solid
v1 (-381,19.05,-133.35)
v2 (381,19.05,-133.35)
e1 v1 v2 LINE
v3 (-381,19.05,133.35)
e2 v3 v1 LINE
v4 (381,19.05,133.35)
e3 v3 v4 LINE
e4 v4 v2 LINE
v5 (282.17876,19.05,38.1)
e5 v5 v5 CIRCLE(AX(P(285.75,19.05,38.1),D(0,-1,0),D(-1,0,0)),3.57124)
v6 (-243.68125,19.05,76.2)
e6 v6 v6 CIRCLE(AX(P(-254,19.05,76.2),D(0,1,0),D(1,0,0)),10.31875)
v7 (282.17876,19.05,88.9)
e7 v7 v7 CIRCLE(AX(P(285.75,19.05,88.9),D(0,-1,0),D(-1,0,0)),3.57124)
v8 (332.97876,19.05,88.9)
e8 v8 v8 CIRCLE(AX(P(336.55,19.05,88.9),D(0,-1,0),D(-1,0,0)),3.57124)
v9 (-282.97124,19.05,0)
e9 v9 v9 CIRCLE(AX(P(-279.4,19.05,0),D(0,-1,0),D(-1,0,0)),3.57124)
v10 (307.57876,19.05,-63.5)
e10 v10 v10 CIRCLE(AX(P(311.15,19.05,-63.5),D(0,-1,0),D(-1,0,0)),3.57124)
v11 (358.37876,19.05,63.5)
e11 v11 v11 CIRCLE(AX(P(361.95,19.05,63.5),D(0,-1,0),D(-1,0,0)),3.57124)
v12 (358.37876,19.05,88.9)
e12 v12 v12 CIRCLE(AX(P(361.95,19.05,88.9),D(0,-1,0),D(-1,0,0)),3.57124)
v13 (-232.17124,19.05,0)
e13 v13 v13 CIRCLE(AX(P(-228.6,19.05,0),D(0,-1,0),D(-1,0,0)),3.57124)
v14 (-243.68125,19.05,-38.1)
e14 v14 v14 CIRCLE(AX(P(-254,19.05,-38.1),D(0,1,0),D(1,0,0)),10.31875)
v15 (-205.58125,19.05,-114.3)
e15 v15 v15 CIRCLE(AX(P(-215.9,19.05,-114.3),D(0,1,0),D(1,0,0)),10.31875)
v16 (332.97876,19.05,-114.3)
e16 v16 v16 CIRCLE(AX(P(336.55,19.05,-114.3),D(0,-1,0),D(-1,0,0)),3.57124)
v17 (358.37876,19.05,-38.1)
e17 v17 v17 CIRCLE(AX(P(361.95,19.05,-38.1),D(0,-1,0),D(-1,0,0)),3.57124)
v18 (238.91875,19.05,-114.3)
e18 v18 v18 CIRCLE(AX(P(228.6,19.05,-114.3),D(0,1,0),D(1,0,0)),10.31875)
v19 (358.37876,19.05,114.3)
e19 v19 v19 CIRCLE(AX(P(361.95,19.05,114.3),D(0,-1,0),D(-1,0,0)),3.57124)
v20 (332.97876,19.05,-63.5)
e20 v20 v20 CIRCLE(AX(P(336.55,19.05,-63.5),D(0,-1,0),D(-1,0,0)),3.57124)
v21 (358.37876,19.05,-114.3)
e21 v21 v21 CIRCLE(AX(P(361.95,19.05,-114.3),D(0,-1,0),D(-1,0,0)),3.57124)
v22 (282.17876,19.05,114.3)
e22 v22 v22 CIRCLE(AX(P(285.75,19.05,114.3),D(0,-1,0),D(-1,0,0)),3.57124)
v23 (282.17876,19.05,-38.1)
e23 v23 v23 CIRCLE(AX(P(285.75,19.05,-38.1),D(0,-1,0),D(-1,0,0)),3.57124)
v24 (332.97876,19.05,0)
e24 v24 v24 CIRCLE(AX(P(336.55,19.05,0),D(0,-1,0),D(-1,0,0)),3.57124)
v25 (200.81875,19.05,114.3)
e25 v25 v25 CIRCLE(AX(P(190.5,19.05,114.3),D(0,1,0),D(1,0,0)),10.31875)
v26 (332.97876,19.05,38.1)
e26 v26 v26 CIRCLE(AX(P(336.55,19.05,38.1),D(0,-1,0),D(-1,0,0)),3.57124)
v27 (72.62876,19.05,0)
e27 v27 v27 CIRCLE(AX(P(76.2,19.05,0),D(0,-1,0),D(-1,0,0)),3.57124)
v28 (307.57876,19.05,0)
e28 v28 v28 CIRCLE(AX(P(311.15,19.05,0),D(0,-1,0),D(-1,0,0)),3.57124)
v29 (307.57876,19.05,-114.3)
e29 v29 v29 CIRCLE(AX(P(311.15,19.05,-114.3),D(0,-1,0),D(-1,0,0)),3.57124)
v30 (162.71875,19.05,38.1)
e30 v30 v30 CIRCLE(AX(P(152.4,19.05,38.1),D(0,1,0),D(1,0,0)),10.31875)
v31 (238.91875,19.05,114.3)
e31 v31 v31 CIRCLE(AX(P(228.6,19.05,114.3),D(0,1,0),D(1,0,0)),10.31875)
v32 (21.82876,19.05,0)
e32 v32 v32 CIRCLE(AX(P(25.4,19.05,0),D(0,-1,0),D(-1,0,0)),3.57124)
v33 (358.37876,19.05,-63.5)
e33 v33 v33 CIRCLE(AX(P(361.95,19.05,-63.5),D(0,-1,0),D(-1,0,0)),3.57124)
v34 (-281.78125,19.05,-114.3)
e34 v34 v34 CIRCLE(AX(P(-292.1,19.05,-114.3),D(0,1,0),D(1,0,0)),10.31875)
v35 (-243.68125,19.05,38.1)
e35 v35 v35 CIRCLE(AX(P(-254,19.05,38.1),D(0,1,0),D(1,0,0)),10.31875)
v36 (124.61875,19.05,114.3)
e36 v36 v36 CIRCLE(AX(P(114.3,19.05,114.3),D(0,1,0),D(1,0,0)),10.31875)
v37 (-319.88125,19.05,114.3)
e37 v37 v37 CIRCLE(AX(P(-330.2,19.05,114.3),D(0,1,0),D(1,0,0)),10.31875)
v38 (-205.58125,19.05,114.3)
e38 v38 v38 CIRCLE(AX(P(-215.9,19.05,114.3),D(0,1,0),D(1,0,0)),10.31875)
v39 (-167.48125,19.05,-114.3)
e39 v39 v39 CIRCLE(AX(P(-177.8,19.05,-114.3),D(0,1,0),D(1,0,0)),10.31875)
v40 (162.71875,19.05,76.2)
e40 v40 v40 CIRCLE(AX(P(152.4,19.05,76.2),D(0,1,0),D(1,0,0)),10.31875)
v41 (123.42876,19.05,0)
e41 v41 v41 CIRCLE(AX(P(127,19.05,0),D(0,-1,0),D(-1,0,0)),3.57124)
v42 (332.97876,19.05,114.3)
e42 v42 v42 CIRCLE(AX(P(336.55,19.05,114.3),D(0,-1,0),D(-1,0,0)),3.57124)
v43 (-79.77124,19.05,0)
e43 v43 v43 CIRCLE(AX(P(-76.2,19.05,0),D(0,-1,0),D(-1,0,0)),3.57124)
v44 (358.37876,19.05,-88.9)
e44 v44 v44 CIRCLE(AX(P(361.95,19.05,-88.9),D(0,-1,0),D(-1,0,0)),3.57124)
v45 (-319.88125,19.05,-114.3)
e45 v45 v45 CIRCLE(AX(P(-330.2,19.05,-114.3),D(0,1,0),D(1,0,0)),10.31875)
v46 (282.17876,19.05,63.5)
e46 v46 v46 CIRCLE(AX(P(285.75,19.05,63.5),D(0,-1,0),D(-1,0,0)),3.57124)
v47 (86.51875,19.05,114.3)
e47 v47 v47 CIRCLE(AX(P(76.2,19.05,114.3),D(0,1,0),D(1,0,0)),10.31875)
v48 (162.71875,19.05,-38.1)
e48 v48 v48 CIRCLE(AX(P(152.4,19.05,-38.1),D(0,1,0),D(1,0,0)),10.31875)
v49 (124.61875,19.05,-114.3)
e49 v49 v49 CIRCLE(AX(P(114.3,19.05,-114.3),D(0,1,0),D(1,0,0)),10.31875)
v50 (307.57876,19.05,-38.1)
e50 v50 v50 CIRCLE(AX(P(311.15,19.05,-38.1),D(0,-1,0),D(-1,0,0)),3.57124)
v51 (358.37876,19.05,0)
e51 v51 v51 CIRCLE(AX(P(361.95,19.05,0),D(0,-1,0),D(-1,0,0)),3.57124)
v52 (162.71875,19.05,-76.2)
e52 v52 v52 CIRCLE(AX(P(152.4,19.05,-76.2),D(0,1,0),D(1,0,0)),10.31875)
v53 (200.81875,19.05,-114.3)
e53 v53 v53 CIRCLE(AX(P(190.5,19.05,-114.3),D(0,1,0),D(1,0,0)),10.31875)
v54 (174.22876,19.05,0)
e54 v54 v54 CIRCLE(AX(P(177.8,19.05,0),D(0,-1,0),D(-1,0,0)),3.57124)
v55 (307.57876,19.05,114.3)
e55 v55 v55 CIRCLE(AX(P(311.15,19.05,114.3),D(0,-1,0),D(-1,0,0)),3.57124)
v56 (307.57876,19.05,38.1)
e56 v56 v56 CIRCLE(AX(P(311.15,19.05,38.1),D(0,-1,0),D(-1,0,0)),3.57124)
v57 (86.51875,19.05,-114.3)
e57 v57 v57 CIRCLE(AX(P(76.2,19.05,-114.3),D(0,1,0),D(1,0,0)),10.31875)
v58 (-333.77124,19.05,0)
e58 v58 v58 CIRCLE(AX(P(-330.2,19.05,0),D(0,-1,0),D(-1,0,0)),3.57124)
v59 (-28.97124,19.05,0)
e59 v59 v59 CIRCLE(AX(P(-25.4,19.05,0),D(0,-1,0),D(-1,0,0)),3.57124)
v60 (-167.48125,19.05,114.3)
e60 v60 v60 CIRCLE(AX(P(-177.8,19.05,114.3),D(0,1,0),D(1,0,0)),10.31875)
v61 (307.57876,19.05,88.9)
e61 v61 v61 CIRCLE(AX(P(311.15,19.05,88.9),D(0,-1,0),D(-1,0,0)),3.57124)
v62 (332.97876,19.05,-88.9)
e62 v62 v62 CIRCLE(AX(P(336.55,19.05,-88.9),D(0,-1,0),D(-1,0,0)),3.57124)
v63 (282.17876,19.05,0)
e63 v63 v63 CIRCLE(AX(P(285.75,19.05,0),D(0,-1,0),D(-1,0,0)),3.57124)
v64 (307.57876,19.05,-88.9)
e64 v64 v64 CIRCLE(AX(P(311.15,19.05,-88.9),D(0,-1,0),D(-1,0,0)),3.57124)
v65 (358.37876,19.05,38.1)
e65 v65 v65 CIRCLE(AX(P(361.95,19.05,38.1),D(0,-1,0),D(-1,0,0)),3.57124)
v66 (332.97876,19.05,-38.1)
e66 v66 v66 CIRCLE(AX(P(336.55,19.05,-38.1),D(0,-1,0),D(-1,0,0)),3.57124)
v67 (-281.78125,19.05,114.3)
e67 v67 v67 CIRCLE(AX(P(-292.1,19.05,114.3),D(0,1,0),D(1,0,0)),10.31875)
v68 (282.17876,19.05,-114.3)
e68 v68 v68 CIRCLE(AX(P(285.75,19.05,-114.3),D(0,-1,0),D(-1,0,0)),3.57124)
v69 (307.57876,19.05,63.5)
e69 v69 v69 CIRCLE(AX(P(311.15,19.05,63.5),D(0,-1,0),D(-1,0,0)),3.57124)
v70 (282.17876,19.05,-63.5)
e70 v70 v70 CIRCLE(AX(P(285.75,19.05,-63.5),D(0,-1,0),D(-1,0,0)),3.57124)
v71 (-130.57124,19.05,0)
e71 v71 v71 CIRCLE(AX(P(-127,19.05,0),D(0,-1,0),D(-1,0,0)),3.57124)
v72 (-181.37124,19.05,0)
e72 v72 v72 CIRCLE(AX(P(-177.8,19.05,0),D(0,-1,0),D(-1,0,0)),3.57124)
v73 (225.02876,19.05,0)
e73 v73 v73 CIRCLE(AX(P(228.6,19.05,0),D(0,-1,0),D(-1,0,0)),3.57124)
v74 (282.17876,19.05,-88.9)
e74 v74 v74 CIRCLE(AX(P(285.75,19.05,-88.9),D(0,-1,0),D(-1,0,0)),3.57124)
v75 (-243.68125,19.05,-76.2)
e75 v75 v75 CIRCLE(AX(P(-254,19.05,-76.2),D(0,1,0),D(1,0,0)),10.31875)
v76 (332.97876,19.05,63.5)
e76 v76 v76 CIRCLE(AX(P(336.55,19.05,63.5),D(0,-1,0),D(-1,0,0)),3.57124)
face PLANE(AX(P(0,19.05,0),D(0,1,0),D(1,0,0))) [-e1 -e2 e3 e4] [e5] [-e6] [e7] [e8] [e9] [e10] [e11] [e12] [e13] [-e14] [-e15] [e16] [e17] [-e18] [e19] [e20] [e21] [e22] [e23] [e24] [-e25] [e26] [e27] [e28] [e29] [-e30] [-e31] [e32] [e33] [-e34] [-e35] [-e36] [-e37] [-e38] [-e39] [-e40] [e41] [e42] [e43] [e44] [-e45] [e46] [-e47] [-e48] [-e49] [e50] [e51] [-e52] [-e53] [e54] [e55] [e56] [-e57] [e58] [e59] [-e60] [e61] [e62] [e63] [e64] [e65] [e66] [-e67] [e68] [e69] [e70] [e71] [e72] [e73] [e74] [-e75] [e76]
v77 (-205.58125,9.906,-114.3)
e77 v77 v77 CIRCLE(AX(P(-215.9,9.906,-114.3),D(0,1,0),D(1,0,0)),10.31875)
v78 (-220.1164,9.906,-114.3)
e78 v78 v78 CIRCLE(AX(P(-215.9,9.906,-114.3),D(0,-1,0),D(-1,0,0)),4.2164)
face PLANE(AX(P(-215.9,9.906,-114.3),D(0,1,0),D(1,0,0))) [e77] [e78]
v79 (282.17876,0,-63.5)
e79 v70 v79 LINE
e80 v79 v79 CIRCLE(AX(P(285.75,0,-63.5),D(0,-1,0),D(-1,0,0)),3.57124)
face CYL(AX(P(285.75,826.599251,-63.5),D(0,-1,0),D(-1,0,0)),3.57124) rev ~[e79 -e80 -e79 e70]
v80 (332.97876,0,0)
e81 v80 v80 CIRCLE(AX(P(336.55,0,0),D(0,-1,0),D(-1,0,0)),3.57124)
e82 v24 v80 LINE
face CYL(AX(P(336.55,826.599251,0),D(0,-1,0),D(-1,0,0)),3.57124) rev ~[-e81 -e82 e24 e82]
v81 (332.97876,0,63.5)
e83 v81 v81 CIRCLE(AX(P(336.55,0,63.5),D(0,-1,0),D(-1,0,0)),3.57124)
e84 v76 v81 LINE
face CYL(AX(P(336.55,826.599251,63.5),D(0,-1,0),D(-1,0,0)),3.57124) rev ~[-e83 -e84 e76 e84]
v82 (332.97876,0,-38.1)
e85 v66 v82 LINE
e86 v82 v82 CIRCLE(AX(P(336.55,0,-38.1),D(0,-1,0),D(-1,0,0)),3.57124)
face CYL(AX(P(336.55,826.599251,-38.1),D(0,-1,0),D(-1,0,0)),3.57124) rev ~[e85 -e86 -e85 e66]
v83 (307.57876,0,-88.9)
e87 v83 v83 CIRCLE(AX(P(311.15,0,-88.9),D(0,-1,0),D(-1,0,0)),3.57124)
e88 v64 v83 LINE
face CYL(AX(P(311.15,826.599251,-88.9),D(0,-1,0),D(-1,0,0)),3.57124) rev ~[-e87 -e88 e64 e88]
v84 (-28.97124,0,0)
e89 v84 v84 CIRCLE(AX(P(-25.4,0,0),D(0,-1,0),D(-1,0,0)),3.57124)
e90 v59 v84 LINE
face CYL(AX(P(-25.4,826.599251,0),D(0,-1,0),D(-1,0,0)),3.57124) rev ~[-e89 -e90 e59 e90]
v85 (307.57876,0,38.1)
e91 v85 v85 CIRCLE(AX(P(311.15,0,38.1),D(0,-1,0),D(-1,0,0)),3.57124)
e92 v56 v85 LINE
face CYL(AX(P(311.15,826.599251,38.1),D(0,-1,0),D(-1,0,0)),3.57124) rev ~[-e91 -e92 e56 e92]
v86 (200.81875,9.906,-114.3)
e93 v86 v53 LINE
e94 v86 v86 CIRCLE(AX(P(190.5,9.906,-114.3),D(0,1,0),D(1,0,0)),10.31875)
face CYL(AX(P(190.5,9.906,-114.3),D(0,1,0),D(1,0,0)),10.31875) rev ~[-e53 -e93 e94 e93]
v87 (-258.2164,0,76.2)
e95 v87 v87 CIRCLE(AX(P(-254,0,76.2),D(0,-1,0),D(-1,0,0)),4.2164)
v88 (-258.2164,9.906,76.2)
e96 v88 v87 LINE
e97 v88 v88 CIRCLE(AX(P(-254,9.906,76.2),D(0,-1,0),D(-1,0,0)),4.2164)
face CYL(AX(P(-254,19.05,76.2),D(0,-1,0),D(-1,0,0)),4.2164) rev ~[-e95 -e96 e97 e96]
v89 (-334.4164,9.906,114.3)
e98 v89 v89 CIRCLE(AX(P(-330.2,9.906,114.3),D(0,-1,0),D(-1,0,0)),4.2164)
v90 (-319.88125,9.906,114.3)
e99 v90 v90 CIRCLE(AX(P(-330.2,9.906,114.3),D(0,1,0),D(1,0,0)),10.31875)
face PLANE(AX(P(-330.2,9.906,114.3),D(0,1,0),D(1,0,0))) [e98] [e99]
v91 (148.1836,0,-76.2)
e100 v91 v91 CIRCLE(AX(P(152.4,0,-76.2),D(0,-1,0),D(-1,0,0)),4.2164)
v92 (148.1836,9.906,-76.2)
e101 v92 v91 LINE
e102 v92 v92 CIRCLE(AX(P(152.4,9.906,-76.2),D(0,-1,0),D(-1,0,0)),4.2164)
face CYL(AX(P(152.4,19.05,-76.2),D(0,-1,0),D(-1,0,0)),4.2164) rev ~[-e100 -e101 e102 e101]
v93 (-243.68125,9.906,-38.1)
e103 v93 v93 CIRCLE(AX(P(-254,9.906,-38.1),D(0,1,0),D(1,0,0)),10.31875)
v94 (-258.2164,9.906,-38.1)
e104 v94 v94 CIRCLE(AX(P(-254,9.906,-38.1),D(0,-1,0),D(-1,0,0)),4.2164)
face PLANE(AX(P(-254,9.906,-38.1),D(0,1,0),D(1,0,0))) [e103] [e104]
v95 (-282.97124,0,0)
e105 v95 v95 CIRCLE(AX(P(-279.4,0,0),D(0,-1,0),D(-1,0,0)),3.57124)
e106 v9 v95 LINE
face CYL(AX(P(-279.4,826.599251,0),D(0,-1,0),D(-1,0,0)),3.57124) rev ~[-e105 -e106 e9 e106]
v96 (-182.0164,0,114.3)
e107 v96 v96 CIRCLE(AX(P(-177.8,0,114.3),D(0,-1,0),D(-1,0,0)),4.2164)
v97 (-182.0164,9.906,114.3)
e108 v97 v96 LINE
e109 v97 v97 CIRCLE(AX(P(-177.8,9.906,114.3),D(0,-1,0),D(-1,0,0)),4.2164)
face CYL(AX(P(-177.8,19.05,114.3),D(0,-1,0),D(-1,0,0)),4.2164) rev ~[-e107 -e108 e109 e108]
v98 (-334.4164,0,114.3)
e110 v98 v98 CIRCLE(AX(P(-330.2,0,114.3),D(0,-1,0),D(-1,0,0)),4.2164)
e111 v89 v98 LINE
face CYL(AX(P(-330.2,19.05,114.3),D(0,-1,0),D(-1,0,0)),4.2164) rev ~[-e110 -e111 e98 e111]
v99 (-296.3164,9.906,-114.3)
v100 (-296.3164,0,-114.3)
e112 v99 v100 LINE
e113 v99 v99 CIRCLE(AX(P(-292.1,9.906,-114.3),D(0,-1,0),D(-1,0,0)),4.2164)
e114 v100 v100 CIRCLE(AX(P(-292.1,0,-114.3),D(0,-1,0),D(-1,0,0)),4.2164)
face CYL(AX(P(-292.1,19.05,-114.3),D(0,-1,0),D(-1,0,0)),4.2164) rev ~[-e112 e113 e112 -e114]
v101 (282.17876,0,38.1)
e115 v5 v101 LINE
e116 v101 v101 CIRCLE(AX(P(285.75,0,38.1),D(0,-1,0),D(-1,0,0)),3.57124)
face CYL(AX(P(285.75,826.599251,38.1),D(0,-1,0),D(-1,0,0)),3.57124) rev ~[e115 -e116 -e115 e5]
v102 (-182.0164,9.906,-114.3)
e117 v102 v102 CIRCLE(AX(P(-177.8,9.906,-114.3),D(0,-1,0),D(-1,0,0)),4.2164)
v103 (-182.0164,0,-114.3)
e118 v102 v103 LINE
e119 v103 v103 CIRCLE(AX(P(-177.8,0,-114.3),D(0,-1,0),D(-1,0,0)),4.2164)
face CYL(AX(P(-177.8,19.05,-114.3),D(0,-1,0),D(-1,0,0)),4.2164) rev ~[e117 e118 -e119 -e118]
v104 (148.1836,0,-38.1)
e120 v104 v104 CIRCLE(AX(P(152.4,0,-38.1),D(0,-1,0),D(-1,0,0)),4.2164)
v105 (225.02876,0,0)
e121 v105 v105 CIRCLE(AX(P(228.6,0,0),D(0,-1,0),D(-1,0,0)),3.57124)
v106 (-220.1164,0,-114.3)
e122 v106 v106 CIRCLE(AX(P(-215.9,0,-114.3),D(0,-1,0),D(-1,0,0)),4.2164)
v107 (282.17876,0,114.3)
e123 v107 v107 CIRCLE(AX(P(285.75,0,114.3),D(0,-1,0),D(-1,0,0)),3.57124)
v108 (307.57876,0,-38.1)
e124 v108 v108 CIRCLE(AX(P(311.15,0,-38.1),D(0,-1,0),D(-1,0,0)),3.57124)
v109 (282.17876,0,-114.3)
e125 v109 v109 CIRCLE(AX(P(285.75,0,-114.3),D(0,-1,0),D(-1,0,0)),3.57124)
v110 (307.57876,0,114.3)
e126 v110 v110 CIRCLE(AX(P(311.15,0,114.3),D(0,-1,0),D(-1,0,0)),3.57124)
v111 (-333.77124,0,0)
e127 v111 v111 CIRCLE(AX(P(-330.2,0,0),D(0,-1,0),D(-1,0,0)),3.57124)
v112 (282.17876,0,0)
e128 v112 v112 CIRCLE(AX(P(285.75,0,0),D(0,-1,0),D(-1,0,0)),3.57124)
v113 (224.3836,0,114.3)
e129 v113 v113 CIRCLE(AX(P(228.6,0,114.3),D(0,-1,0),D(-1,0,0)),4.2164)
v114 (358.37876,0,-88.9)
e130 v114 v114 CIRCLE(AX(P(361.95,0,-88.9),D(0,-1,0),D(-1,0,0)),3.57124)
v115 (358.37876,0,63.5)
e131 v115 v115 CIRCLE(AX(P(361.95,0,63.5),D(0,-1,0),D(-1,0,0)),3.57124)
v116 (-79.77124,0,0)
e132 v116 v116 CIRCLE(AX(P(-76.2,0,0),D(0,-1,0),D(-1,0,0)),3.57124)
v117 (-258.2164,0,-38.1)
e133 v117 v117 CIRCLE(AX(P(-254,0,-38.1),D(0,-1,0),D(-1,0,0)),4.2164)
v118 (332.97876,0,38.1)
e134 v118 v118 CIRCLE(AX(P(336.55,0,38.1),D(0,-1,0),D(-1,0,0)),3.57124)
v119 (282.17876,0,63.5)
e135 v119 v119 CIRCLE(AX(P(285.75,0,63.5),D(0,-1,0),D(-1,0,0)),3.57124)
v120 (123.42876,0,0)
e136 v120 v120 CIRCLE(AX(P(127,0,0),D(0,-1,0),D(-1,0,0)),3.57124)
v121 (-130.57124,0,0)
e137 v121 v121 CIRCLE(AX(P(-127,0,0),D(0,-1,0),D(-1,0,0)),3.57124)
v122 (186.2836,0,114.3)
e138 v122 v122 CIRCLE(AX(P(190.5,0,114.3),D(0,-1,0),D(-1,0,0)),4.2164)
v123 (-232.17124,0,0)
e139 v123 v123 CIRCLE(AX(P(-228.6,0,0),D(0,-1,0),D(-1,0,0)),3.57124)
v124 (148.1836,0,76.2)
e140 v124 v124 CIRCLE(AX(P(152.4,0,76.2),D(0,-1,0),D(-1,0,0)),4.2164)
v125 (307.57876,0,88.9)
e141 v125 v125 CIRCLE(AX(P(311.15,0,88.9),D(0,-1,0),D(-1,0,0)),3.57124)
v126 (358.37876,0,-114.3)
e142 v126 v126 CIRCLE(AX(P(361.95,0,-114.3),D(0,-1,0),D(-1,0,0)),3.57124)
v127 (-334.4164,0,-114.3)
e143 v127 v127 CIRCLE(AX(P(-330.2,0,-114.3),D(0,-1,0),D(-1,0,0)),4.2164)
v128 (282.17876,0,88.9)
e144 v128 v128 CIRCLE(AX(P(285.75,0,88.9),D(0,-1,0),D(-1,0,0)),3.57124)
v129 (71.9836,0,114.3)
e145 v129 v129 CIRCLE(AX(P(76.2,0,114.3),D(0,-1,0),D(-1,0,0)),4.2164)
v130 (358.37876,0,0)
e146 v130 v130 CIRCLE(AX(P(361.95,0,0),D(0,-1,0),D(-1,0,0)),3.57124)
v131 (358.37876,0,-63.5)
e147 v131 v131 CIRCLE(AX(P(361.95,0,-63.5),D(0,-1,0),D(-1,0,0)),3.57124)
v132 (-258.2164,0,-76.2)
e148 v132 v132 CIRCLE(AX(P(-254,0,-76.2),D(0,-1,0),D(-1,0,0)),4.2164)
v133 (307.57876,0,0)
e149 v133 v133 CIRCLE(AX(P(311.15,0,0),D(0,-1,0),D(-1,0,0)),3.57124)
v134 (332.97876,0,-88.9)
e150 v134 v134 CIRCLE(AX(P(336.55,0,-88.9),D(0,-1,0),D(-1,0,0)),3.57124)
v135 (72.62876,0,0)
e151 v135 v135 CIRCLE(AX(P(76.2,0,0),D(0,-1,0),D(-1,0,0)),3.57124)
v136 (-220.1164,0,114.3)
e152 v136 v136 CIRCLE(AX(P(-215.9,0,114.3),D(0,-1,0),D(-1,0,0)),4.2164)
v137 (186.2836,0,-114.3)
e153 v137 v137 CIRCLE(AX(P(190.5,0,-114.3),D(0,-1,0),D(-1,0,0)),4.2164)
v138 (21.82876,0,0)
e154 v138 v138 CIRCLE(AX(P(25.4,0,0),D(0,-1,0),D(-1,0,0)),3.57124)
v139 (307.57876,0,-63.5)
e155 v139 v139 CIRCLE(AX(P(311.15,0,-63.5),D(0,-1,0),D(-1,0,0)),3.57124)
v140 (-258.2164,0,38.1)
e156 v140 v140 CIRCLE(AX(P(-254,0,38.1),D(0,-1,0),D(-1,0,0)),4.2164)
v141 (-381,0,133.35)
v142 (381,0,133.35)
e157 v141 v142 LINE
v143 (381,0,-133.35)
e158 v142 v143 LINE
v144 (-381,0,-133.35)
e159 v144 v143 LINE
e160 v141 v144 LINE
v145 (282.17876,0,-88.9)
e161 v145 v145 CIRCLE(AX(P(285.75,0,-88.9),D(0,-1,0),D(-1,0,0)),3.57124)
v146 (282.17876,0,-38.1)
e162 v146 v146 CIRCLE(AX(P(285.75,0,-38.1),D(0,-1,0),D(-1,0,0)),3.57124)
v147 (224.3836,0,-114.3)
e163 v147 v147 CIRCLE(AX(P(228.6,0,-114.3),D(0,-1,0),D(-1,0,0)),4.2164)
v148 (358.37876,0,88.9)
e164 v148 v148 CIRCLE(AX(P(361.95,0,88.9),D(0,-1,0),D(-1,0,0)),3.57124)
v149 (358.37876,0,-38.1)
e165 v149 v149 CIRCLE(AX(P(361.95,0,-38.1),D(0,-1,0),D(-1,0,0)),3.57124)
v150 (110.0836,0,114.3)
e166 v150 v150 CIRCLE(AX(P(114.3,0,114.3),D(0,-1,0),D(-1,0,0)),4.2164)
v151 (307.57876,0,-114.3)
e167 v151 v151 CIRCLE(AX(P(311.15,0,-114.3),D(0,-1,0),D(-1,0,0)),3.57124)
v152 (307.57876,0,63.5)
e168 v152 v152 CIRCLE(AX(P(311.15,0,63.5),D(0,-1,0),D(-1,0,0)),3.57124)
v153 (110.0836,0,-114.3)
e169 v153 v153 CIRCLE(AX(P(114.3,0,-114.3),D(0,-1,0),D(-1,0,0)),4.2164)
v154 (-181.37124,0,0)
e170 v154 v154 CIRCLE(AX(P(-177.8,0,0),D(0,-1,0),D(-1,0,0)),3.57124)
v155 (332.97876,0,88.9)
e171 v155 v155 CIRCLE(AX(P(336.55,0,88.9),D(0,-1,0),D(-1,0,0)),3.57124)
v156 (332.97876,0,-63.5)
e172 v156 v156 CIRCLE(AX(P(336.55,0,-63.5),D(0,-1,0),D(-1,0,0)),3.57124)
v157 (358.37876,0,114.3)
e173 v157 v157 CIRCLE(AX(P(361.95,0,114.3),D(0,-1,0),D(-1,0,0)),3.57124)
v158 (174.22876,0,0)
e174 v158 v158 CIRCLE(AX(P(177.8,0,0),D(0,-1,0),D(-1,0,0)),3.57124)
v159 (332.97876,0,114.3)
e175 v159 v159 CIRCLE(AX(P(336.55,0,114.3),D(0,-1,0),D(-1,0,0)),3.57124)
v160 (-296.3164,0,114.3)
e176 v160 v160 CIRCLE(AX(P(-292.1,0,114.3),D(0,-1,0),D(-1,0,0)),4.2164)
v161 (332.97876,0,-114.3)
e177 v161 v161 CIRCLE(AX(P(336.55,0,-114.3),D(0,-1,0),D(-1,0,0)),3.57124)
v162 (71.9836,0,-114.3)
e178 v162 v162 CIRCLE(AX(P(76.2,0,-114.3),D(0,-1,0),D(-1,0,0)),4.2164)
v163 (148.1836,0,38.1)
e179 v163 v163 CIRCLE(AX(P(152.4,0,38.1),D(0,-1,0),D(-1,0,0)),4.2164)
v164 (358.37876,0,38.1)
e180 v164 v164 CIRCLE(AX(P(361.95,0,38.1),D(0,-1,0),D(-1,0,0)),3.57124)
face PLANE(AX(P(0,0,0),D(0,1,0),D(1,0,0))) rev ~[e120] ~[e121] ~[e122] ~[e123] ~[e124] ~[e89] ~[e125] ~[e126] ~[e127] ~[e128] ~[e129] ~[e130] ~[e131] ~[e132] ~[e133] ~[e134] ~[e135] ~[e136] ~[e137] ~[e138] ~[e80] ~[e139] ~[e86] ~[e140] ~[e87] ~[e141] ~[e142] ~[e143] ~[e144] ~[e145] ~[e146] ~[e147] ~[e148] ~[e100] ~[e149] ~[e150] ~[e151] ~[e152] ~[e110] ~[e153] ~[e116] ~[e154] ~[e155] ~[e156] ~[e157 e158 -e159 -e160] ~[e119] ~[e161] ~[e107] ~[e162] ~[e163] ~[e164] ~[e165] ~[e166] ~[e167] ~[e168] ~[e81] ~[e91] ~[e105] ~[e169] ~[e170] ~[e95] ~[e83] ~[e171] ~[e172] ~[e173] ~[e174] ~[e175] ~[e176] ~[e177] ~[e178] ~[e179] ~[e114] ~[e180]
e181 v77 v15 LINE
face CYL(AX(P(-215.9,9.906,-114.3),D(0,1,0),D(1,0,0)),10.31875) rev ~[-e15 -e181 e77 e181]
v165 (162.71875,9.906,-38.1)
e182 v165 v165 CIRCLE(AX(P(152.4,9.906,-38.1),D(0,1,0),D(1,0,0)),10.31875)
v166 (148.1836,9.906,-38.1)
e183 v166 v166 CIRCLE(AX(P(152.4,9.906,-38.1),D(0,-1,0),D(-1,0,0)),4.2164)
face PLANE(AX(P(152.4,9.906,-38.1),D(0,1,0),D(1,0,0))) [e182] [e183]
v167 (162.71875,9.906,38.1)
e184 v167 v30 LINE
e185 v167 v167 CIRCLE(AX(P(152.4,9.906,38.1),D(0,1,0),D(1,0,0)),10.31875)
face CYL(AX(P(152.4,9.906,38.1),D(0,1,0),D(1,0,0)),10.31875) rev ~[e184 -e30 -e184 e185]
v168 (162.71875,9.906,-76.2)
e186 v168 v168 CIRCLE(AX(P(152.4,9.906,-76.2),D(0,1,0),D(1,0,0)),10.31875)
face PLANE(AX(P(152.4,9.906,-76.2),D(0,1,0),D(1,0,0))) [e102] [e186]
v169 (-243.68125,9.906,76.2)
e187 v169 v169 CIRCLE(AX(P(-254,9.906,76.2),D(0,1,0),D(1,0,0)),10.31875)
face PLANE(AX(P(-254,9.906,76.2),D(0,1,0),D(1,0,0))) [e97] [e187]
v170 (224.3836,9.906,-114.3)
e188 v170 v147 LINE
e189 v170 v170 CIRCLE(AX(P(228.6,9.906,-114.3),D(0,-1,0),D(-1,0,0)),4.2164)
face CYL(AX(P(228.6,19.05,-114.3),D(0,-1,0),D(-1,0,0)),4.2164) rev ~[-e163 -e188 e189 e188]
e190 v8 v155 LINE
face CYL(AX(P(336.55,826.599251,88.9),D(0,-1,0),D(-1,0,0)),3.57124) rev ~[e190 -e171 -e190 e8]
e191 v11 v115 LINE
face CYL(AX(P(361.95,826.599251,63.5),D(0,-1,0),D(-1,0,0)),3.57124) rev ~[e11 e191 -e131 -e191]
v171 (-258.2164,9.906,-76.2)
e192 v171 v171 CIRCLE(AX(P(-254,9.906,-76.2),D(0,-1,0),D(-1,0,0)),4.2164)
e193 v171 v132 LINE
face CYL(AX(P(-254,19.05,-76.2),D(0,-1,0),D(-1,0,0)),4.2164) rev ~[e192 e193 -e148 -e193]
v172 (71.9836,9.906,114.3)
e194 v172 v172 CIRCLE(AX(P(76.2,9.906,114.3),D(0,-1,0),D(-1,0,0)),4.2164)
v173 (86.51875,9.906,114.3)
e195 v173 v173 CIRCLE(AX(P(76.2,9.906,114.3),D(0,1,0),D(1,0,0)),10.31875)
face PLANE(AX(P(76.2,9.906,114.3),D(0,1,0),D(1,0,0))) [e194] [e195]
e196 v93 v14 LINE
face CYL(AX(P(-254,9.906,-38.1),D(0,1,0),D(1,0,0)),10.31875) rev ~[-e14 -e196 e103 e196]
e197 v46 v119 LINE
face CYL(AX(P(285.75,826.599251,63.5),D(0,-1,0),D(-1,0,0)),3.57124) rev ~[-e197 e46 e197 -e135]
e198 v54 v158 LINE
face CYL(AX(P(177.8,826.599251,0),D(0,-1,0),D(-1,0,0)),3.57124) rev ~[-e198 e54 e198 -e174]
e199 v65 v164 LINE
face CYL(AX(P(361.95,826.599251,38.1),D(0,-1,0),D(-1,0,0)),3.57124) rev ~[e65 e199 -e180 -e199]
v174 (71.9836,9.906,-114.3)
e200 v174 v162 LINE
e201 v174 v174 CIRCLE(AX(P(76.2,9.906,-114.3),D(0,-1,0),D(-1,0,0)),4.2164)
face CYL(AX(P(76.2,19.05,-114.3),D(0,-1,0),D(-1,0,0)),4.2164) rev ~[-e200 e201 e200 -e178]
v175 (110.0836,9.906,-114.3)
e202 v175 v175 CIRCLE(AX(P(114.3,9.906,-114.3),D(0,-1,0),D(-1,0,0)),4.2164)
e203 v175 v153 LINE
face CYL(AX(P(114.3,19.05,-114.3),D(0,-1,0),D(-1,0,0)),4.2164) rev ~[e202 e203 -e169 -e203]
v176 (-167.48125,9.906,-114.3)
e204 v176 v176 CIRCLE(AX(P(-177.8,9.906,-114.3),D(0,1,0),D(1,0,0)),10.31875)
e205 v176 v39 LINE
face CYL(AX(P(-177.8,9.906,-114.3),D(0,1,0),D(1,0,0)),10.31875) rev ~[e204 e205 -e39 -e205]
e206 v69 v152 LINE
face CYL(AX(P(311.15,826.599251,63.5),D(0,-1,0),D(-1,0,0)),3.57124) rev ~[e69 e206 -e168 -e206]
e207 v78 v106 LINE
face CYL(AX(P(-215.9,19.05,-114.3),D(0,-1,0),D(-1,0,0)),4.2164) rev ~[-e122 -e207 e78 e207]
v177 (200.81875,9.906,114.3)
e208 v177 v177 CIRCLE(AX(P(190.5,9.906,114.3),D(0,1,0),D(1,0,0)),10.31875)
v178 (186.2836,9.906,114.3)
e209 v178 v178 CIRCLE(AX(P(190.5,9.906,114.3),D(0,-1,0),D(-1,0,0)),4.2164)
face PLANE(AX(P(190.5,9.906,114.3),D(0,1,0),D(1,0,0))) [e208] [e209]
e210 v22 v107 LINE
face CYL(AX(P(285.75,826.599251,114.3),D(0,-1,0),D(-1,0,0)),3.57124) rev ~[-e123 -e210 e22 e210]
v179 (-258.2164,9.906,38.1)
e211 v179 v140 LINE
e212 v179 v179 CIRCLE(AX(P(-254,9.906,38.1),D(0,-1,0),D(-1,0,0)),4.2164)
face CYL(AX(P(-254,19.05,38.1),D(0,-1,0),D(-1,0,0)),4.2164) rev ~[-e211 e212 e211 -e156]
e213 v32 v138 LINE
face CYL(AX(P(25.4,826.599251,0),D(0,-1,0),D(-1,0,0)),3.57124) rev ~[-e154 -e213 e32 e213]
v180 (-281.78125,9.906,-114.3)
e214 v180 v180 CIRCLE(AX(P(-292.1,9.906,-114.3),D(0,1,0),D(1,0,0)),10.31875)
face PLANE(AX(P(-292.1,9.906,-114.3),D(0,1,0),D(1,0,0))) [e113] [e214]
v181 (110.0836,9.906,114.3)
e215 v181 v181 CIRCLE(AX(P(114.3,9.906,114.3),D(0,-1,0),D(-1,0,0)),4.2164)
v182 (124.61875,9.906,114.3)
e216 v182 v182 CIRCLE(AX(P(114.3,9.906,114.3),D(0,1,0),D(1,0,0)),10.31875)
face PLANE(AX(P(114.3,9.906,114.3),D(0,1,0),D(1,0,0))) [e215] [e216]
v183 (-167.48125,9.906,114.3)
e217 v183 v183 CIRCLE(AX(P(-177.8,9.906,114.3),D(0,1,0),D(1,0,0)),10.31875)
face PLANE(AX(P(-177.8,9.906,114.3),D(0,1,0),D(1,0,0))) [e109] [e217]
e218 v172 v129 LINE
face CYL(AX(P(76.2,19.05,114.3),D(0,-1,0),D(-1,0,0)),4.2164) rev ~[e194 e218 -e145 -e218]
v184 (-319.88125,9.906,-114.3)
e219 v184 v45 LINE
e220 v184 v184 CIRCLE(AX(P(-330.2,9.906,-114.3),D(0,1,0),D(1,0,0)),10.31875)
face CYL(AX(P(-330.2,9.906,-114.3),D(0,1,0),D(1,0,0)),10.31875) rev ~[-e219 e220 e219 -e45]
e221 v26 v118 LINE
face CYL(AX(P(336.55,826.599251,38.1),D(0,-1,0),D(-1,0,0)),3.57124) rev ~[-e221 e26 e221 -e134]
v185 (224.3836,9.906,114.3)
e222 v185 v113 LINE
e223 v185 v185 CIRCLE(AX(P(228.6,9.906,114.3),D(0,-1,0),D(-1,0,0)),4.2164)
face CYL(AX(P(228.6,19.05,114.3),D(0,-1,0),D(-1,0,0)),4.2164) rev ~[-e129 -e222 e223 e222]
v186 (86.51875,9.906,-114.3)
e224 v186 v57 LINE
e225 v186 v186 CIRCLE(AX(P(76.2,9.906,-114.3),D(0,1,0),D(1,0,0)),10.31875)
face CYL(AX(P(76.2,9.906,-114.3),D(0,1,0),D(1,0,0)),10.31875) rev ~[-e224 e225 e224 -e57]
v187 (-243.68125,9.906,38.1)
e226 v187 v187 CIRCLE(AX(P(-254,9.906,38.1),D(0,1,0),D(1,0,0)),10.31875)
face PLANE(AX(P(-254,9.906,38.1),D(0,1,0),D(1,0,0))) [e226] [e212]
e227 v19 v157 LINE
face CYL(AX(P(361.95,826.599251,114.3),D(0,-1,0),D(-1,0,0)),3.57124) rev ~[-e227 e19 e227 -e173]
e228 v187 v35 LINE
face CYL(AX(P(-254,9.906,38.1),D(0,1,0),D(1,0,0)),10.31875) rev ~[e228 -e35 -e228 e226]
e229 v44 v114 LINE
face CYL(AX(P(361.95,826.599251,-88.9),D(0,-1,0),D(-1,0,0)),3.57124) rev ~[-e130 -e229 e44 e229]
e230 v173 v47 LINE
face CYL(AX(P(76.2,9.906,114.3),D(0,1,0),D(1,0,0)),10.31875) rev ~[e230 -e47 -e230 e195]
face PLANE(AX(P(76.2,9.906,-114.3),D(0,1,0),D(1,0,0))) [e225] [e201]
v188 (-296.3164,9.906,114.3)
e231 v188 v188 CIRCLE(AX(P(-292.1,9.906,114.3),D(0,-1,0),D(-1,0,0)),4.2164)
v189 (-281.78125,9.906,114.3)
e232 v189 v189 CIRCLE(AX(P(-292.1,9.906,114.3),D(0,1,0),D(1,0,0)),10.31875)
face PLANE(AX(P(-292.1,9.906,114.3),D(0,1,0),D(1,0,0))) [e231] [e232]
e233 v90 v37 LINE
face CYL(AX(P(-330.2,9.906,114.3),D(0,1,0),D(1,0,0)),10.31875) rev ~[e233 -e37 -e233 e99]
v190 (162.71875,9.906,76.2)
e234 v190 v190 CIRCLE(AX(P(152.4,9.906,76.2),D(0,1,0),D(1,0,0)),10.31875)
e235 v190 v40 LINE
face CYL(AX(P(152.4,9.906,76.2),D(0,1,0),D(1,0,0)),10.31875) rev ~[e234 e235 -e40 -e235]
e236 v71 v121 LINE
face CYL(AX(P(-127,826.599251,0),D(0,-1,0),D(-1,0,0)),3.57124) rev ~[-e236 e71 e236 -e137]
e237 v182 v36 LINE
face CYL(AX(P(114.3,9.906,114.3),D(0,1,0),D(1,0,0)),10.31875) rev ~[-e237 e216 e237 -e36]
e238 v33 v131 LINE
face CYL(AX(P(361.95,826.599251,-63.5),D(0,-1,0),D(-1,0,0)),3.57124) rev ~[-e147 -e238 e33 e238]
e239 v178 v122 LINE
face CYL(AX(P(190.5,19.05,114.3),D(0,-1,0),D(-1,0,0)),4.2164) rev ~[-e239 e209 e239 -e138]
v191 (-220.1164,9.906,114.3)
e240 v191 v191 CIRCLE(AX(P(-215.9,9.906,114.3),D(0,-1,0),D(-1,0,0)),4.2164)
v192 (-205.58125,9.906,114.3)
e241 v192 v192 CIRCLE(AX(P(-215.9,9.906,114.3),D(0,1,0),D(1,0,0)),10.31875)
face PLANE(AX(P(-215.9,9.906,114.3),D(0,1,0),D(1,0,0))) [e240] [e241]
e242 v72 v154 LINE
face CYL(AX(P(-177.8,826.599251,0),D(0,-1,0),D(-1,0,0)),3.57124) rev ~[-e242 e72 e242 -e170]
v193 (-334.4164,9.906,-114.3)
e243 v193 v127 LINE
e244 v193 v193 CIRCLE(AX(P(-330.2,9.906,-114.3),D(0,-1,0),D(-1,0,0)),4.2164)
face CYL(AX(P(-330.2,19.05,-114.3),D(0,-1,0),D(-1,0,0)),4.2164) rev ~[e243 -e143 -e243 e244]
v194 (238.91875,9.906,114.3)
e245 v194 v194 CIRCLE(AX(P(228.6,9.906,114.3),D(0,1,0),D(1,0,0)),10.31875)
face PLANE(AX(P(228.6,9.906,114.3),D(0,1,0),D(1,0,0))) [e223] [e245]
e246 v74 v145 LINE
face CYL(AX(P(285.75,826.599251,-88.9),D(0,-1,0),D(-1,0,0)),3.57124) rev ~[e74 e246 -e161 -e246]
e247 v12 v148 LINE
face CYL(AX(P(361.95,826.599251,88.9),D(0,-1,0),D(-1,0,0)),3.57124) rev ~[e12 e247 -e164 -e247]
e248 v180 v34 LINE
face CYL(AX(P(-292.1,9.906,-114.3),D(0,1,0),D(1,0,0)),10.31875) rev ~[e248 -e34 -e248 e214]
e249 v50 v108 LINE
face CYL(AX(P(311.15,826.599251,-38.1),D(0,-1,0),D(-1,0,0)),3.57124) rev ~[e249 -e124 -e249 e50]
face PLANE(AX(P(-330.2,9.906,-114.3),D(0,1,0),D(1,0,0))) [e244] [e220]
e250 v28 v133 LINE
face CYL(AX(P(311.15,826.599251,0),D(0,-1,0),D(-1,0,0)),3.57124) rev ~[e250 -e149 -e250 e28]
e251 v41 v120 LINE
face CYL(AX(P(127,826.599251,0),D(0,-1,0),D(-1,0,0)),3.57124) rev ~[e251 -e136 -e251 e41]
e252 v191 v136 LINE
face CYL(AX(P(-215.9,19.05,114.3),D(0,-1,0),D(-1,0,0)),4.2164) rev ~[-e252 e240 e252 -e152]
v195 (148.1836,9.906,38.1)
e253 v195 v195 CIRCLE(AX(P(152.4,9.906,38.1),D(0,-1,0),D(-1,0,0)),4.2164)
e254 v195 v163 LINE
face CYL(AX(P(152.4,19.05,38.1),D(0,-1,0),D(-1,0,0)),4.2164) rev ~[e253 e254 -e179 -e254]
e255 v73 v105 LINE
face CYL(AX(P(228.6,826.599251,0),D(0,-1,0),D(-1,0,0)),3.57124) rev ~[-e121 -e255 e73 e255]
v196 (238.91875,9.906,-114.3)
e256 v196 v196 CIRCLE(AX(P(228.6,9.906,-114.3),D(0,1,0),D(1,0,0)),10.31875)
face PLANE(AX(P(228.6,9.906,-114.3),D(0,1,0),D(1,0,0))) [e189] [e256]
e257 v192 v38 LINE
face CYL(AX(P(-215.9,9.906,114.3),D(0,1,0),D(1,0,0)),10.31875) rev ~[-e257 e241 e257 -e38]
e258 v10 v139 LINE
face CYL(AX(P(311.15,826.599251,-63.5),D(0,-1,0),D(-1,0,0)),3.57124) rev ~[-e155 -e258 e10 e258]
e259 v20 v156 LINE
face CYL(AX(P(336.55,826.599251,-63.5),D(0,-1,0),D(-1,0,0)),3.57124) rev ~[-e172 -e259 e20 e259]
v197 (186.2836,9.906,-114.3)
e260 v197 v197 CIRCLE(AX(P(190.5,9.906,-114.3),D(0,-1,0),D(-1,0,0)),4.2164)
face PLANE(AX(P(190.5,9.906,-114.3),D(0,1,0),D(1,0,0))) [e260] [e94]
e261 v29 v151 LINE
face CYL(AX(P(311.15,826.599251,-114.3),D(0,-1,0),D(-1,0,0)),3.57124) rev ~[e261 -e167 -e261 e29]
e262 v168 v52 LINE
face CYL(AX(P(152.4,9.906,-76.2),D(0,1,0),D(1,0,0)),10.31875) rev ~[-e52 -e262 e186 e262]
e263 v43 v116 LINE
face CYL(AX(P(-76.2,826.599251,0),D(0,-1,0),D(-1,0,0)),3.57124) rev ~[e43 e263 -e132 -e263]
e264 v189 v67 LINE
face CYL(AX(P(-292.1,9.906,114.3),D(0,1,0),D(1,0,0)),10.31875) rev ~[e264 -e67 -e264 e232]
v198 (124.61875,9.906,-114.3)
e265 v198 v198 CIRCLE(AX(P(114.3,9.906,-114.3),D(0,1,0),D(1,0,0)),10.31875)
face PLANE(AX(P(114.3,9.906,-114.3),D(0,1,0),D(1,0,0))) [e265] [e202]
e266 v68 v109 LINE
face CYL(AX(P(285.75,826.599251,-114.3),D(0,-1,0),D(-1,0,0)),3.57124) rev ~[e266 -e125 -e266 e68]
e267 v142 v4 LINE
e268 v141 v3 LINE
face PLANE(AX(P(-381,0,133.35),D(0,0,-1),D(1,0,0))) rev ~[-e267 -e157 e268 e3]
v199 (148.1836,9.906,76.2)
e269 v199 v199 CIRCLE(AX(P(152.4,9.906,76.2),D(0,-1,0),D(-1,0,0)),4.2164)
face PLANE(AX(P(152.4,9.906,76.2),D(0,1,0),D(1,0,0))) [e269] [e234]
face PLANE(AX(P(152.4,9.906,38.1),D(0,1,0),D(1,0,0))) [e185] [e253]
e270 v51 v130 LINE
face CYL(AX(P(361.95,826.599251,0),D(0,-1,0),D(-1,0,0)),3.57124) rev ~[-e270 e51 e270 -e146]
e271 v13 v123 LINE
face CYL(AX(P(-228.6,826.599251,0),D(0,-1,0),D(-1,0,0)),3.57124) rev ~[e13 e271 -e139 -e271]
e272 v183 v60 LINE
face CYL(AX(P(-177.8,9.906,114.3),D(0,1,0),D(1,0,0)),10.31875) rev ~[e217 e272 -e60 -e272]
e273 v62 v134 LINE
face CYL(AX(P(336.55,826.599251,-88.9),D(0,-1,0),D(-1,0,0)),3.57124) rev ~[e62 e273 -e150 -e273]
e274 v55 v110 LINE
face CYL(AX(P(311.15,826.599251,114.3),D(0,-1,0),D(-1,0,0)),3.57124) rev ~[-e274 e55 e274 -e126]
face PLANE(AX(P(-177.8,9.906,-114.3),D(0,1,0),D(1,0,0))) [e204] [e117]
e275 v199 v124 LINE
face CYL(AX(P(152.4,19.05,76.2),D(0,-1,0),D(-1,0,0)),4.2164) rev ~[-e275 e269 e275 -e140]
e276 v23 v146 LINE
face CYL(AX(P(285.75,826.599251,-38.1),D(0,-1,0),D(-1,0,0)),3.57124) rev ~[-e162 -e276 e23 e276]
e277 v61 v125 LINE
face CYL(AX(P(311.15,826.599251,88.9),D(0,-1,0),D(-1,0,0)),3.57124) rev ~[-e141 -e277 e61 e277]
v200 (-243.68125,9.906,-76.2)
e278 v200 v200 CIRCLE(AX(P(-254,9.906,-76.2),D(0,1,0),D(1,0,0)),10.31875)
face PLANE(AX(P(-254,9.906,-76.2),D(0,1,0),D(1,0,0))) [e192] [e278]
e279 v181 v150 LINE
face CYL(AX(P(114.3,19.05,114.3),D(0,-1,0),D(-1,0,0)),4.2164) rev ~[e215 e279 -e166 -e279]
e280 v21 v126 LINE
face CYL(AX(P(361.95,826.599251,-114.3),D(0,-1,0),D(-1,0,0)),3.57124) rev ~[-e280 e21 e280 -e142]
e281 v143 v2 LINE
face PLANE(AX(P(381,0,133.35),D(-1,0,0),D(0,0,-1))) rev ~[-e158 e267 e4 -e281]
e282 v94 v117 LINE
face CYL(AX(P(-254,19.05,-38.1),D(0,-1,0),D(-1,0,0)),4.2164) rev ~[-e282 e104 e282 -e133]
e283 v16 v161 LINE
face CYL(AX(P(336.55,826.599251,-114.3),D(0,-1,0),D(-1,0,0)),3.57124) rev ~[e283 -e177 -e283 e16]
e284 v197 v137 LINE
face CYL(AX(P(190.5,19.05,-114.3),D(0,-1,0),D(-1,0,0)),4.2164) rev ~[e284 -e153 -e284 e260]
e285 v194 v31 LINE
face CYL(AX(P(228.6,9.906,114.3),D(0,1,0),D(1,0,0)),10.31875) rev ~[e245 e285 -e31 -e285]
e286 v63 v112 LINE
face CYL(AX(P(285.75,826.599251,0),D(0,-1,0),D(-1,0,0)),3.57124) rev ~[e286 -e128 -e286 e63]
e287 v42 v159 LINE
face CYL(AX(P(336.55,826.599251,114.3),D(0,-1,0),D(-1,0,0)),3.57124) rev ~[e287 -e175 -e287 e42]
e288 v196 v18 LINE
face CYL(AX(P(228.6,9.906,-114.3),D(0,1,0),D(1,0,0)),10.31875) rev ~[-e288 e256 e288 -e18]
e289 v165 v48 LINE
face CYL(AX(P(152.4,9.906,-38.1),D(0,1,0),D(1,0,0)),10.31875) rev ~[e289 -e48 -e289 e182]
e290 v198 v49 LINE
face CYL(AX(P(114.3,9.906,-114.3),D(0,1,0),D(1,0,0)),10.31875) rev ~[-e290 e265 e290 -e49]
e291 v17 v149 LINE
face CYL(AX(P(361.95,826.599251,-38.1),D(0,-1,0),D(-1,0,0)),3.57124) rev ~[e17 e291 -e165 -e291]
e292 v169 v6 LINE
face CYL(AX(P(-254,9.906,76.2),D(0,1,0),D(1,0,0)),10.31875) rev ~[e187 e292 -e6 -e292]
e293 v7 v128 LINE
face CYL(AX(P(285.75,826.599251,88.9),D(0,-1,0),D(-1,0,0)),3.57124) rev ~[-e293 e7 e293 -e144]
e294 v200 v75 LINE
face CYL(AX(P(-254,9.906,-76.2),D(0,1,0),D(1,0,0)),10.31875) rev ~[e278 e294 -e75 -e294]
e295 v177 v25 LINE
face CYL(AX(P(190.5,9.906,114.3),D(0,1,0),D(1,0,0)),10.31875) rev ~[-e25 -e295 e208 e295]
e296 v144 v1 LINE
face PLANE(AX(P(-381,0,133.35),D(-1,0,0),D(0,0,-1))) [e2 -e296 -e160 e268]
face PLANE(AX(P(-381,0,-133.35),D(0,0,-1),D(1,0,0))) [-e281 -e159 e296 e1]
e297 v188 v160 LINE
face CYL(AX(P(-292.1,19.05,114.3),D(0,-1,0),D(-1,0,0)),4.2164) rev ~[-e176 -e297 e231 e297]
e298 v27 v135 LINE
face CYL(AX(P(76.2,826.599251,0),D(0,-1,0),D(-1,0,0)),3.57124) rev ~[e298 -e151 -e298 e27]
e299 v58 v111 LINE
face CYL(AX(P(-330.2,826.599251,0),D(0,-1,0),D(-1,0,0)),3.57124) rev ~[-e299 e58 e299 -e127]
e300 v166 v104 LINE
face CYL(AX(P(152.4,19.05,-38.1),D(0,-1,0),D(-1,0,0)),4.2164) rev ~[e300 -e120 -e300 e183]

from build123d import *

# Parameters (mm, degrees)
SKETCH1_W                                 = 762
SKETCH1_H                                 = 266.7
BOSS_EXTRUDE1_DEPTH                       = 19.05
CBORE_FOR_5_16_HEX_HEAD_BOLT1_D           = 8.4328
CBORE_FOR_5_16_HEX_HEAD_BOLT1_CBORE_D     = 20.6375
CBORE_FOR_5_16_HEX_HEAD_BOLT1_CBORE_DEPTH = 9.144
F_1_4_CLEARANCE_HOLE1_D                   = 7.14248


with BuildPart() as part:
    # Sketch1 → Boss-Extrude1 (new body)
    with BuildSketch(Plane(origin=(0, 0, 0), x_dir=(1, 0, 0), z_dir=(0, 1, 0))):
        Rectangle(SKETCH1_W, SKETCH1_H)
    extrude(amount=BOSS_EXTRUDE1_DEPTH)

    # CBORE for 5/16 Hex Head Bolt1 (through all)
    with Locations(Plane(origin=(0, 19.05, 0), x_dir=(1, 0, 0), z_dir=(0, 1, 0))):
        with Locations((-330.2, 114.3), (-292.1, 114.3), (-254, 76.2), (-254, 38.1), (-215.9, 114.3), (-177.8, 114.3), (76.2, 114.3), (114.3, 114.3), (152.4, 76.2), (152.4, 38.1), (190.5, 114.3), (228.6, 114.3), (228.6, -114.3), (190.5, -114.3), (152.4, -38.1), (152.4, -76.2), (114.3, -114.3), (76.2, -114.3), (-177.8, -114.3), (-215.9, -114.3), (-254, -38.1), (-254, -76.2), (-292.1, -114.3), (-330.2, -114.3)):
            CounterBoreHole(CBORE_FOR_5_16_HEX_HEAD_BOLT1_D / 2, CBORE_FOR_5_16_HEX_HEAD_BOLT1_CBORE_D / 2, CBORE_FOR_5_16_HEX_HEAD_BOLT1_CBORE_DEPTH)

    # 1/4 Clearance Hole1 (through all)
    with Locations(Plane(origin=(0, 19.05, 0), x_dir=(1, 0, 0), z_dir=(0, 1, 0))):
        with Locations((-330.2, 0), (-279.4, 0), (-228.6, 0), (-177.8, 0), (-127, 0), (-76.2, 0), (-25.4, 0), (25.4, 0), (76.2, 0), (127, 0), (177.8, 0), (228.6, 0), (361.95, 114.3), (336.55, 114.3), (311.15, 114.3), (285.75, 114.3), (336.55, 88.9), (311.15, 88.9), (285.75, 88.9), (336.55, 63.5), (311.15, 63.5), (285.75, 63.5), (336.55, 38.1), (311.15, 38.1), (285.75, 38.1), (336.55, -38.1), (311.15, -38.1), (285.75, -38.1), (336.55, -63.5), (311.15, -63.5), (285.75, -63.5), (336.55, -88.9), (311.15, -88.9), (285.75, -88.9), (336.55, -114.3), (311.15, -114.3), (285.75, -114.3), (361.95, 88.9), (361.95, 63.5), (361.95, 38.1), (361.95, -38.1), (361.95, -63.5), (361.95, -88.9), (361.95, -114.3), (361.95, 0), (336.55, 0), (311.15, 0), (285.75, 0)):
            Hole(F_1_4_CLEARANCE_HOLE1_D / 2)


solid = part.part
